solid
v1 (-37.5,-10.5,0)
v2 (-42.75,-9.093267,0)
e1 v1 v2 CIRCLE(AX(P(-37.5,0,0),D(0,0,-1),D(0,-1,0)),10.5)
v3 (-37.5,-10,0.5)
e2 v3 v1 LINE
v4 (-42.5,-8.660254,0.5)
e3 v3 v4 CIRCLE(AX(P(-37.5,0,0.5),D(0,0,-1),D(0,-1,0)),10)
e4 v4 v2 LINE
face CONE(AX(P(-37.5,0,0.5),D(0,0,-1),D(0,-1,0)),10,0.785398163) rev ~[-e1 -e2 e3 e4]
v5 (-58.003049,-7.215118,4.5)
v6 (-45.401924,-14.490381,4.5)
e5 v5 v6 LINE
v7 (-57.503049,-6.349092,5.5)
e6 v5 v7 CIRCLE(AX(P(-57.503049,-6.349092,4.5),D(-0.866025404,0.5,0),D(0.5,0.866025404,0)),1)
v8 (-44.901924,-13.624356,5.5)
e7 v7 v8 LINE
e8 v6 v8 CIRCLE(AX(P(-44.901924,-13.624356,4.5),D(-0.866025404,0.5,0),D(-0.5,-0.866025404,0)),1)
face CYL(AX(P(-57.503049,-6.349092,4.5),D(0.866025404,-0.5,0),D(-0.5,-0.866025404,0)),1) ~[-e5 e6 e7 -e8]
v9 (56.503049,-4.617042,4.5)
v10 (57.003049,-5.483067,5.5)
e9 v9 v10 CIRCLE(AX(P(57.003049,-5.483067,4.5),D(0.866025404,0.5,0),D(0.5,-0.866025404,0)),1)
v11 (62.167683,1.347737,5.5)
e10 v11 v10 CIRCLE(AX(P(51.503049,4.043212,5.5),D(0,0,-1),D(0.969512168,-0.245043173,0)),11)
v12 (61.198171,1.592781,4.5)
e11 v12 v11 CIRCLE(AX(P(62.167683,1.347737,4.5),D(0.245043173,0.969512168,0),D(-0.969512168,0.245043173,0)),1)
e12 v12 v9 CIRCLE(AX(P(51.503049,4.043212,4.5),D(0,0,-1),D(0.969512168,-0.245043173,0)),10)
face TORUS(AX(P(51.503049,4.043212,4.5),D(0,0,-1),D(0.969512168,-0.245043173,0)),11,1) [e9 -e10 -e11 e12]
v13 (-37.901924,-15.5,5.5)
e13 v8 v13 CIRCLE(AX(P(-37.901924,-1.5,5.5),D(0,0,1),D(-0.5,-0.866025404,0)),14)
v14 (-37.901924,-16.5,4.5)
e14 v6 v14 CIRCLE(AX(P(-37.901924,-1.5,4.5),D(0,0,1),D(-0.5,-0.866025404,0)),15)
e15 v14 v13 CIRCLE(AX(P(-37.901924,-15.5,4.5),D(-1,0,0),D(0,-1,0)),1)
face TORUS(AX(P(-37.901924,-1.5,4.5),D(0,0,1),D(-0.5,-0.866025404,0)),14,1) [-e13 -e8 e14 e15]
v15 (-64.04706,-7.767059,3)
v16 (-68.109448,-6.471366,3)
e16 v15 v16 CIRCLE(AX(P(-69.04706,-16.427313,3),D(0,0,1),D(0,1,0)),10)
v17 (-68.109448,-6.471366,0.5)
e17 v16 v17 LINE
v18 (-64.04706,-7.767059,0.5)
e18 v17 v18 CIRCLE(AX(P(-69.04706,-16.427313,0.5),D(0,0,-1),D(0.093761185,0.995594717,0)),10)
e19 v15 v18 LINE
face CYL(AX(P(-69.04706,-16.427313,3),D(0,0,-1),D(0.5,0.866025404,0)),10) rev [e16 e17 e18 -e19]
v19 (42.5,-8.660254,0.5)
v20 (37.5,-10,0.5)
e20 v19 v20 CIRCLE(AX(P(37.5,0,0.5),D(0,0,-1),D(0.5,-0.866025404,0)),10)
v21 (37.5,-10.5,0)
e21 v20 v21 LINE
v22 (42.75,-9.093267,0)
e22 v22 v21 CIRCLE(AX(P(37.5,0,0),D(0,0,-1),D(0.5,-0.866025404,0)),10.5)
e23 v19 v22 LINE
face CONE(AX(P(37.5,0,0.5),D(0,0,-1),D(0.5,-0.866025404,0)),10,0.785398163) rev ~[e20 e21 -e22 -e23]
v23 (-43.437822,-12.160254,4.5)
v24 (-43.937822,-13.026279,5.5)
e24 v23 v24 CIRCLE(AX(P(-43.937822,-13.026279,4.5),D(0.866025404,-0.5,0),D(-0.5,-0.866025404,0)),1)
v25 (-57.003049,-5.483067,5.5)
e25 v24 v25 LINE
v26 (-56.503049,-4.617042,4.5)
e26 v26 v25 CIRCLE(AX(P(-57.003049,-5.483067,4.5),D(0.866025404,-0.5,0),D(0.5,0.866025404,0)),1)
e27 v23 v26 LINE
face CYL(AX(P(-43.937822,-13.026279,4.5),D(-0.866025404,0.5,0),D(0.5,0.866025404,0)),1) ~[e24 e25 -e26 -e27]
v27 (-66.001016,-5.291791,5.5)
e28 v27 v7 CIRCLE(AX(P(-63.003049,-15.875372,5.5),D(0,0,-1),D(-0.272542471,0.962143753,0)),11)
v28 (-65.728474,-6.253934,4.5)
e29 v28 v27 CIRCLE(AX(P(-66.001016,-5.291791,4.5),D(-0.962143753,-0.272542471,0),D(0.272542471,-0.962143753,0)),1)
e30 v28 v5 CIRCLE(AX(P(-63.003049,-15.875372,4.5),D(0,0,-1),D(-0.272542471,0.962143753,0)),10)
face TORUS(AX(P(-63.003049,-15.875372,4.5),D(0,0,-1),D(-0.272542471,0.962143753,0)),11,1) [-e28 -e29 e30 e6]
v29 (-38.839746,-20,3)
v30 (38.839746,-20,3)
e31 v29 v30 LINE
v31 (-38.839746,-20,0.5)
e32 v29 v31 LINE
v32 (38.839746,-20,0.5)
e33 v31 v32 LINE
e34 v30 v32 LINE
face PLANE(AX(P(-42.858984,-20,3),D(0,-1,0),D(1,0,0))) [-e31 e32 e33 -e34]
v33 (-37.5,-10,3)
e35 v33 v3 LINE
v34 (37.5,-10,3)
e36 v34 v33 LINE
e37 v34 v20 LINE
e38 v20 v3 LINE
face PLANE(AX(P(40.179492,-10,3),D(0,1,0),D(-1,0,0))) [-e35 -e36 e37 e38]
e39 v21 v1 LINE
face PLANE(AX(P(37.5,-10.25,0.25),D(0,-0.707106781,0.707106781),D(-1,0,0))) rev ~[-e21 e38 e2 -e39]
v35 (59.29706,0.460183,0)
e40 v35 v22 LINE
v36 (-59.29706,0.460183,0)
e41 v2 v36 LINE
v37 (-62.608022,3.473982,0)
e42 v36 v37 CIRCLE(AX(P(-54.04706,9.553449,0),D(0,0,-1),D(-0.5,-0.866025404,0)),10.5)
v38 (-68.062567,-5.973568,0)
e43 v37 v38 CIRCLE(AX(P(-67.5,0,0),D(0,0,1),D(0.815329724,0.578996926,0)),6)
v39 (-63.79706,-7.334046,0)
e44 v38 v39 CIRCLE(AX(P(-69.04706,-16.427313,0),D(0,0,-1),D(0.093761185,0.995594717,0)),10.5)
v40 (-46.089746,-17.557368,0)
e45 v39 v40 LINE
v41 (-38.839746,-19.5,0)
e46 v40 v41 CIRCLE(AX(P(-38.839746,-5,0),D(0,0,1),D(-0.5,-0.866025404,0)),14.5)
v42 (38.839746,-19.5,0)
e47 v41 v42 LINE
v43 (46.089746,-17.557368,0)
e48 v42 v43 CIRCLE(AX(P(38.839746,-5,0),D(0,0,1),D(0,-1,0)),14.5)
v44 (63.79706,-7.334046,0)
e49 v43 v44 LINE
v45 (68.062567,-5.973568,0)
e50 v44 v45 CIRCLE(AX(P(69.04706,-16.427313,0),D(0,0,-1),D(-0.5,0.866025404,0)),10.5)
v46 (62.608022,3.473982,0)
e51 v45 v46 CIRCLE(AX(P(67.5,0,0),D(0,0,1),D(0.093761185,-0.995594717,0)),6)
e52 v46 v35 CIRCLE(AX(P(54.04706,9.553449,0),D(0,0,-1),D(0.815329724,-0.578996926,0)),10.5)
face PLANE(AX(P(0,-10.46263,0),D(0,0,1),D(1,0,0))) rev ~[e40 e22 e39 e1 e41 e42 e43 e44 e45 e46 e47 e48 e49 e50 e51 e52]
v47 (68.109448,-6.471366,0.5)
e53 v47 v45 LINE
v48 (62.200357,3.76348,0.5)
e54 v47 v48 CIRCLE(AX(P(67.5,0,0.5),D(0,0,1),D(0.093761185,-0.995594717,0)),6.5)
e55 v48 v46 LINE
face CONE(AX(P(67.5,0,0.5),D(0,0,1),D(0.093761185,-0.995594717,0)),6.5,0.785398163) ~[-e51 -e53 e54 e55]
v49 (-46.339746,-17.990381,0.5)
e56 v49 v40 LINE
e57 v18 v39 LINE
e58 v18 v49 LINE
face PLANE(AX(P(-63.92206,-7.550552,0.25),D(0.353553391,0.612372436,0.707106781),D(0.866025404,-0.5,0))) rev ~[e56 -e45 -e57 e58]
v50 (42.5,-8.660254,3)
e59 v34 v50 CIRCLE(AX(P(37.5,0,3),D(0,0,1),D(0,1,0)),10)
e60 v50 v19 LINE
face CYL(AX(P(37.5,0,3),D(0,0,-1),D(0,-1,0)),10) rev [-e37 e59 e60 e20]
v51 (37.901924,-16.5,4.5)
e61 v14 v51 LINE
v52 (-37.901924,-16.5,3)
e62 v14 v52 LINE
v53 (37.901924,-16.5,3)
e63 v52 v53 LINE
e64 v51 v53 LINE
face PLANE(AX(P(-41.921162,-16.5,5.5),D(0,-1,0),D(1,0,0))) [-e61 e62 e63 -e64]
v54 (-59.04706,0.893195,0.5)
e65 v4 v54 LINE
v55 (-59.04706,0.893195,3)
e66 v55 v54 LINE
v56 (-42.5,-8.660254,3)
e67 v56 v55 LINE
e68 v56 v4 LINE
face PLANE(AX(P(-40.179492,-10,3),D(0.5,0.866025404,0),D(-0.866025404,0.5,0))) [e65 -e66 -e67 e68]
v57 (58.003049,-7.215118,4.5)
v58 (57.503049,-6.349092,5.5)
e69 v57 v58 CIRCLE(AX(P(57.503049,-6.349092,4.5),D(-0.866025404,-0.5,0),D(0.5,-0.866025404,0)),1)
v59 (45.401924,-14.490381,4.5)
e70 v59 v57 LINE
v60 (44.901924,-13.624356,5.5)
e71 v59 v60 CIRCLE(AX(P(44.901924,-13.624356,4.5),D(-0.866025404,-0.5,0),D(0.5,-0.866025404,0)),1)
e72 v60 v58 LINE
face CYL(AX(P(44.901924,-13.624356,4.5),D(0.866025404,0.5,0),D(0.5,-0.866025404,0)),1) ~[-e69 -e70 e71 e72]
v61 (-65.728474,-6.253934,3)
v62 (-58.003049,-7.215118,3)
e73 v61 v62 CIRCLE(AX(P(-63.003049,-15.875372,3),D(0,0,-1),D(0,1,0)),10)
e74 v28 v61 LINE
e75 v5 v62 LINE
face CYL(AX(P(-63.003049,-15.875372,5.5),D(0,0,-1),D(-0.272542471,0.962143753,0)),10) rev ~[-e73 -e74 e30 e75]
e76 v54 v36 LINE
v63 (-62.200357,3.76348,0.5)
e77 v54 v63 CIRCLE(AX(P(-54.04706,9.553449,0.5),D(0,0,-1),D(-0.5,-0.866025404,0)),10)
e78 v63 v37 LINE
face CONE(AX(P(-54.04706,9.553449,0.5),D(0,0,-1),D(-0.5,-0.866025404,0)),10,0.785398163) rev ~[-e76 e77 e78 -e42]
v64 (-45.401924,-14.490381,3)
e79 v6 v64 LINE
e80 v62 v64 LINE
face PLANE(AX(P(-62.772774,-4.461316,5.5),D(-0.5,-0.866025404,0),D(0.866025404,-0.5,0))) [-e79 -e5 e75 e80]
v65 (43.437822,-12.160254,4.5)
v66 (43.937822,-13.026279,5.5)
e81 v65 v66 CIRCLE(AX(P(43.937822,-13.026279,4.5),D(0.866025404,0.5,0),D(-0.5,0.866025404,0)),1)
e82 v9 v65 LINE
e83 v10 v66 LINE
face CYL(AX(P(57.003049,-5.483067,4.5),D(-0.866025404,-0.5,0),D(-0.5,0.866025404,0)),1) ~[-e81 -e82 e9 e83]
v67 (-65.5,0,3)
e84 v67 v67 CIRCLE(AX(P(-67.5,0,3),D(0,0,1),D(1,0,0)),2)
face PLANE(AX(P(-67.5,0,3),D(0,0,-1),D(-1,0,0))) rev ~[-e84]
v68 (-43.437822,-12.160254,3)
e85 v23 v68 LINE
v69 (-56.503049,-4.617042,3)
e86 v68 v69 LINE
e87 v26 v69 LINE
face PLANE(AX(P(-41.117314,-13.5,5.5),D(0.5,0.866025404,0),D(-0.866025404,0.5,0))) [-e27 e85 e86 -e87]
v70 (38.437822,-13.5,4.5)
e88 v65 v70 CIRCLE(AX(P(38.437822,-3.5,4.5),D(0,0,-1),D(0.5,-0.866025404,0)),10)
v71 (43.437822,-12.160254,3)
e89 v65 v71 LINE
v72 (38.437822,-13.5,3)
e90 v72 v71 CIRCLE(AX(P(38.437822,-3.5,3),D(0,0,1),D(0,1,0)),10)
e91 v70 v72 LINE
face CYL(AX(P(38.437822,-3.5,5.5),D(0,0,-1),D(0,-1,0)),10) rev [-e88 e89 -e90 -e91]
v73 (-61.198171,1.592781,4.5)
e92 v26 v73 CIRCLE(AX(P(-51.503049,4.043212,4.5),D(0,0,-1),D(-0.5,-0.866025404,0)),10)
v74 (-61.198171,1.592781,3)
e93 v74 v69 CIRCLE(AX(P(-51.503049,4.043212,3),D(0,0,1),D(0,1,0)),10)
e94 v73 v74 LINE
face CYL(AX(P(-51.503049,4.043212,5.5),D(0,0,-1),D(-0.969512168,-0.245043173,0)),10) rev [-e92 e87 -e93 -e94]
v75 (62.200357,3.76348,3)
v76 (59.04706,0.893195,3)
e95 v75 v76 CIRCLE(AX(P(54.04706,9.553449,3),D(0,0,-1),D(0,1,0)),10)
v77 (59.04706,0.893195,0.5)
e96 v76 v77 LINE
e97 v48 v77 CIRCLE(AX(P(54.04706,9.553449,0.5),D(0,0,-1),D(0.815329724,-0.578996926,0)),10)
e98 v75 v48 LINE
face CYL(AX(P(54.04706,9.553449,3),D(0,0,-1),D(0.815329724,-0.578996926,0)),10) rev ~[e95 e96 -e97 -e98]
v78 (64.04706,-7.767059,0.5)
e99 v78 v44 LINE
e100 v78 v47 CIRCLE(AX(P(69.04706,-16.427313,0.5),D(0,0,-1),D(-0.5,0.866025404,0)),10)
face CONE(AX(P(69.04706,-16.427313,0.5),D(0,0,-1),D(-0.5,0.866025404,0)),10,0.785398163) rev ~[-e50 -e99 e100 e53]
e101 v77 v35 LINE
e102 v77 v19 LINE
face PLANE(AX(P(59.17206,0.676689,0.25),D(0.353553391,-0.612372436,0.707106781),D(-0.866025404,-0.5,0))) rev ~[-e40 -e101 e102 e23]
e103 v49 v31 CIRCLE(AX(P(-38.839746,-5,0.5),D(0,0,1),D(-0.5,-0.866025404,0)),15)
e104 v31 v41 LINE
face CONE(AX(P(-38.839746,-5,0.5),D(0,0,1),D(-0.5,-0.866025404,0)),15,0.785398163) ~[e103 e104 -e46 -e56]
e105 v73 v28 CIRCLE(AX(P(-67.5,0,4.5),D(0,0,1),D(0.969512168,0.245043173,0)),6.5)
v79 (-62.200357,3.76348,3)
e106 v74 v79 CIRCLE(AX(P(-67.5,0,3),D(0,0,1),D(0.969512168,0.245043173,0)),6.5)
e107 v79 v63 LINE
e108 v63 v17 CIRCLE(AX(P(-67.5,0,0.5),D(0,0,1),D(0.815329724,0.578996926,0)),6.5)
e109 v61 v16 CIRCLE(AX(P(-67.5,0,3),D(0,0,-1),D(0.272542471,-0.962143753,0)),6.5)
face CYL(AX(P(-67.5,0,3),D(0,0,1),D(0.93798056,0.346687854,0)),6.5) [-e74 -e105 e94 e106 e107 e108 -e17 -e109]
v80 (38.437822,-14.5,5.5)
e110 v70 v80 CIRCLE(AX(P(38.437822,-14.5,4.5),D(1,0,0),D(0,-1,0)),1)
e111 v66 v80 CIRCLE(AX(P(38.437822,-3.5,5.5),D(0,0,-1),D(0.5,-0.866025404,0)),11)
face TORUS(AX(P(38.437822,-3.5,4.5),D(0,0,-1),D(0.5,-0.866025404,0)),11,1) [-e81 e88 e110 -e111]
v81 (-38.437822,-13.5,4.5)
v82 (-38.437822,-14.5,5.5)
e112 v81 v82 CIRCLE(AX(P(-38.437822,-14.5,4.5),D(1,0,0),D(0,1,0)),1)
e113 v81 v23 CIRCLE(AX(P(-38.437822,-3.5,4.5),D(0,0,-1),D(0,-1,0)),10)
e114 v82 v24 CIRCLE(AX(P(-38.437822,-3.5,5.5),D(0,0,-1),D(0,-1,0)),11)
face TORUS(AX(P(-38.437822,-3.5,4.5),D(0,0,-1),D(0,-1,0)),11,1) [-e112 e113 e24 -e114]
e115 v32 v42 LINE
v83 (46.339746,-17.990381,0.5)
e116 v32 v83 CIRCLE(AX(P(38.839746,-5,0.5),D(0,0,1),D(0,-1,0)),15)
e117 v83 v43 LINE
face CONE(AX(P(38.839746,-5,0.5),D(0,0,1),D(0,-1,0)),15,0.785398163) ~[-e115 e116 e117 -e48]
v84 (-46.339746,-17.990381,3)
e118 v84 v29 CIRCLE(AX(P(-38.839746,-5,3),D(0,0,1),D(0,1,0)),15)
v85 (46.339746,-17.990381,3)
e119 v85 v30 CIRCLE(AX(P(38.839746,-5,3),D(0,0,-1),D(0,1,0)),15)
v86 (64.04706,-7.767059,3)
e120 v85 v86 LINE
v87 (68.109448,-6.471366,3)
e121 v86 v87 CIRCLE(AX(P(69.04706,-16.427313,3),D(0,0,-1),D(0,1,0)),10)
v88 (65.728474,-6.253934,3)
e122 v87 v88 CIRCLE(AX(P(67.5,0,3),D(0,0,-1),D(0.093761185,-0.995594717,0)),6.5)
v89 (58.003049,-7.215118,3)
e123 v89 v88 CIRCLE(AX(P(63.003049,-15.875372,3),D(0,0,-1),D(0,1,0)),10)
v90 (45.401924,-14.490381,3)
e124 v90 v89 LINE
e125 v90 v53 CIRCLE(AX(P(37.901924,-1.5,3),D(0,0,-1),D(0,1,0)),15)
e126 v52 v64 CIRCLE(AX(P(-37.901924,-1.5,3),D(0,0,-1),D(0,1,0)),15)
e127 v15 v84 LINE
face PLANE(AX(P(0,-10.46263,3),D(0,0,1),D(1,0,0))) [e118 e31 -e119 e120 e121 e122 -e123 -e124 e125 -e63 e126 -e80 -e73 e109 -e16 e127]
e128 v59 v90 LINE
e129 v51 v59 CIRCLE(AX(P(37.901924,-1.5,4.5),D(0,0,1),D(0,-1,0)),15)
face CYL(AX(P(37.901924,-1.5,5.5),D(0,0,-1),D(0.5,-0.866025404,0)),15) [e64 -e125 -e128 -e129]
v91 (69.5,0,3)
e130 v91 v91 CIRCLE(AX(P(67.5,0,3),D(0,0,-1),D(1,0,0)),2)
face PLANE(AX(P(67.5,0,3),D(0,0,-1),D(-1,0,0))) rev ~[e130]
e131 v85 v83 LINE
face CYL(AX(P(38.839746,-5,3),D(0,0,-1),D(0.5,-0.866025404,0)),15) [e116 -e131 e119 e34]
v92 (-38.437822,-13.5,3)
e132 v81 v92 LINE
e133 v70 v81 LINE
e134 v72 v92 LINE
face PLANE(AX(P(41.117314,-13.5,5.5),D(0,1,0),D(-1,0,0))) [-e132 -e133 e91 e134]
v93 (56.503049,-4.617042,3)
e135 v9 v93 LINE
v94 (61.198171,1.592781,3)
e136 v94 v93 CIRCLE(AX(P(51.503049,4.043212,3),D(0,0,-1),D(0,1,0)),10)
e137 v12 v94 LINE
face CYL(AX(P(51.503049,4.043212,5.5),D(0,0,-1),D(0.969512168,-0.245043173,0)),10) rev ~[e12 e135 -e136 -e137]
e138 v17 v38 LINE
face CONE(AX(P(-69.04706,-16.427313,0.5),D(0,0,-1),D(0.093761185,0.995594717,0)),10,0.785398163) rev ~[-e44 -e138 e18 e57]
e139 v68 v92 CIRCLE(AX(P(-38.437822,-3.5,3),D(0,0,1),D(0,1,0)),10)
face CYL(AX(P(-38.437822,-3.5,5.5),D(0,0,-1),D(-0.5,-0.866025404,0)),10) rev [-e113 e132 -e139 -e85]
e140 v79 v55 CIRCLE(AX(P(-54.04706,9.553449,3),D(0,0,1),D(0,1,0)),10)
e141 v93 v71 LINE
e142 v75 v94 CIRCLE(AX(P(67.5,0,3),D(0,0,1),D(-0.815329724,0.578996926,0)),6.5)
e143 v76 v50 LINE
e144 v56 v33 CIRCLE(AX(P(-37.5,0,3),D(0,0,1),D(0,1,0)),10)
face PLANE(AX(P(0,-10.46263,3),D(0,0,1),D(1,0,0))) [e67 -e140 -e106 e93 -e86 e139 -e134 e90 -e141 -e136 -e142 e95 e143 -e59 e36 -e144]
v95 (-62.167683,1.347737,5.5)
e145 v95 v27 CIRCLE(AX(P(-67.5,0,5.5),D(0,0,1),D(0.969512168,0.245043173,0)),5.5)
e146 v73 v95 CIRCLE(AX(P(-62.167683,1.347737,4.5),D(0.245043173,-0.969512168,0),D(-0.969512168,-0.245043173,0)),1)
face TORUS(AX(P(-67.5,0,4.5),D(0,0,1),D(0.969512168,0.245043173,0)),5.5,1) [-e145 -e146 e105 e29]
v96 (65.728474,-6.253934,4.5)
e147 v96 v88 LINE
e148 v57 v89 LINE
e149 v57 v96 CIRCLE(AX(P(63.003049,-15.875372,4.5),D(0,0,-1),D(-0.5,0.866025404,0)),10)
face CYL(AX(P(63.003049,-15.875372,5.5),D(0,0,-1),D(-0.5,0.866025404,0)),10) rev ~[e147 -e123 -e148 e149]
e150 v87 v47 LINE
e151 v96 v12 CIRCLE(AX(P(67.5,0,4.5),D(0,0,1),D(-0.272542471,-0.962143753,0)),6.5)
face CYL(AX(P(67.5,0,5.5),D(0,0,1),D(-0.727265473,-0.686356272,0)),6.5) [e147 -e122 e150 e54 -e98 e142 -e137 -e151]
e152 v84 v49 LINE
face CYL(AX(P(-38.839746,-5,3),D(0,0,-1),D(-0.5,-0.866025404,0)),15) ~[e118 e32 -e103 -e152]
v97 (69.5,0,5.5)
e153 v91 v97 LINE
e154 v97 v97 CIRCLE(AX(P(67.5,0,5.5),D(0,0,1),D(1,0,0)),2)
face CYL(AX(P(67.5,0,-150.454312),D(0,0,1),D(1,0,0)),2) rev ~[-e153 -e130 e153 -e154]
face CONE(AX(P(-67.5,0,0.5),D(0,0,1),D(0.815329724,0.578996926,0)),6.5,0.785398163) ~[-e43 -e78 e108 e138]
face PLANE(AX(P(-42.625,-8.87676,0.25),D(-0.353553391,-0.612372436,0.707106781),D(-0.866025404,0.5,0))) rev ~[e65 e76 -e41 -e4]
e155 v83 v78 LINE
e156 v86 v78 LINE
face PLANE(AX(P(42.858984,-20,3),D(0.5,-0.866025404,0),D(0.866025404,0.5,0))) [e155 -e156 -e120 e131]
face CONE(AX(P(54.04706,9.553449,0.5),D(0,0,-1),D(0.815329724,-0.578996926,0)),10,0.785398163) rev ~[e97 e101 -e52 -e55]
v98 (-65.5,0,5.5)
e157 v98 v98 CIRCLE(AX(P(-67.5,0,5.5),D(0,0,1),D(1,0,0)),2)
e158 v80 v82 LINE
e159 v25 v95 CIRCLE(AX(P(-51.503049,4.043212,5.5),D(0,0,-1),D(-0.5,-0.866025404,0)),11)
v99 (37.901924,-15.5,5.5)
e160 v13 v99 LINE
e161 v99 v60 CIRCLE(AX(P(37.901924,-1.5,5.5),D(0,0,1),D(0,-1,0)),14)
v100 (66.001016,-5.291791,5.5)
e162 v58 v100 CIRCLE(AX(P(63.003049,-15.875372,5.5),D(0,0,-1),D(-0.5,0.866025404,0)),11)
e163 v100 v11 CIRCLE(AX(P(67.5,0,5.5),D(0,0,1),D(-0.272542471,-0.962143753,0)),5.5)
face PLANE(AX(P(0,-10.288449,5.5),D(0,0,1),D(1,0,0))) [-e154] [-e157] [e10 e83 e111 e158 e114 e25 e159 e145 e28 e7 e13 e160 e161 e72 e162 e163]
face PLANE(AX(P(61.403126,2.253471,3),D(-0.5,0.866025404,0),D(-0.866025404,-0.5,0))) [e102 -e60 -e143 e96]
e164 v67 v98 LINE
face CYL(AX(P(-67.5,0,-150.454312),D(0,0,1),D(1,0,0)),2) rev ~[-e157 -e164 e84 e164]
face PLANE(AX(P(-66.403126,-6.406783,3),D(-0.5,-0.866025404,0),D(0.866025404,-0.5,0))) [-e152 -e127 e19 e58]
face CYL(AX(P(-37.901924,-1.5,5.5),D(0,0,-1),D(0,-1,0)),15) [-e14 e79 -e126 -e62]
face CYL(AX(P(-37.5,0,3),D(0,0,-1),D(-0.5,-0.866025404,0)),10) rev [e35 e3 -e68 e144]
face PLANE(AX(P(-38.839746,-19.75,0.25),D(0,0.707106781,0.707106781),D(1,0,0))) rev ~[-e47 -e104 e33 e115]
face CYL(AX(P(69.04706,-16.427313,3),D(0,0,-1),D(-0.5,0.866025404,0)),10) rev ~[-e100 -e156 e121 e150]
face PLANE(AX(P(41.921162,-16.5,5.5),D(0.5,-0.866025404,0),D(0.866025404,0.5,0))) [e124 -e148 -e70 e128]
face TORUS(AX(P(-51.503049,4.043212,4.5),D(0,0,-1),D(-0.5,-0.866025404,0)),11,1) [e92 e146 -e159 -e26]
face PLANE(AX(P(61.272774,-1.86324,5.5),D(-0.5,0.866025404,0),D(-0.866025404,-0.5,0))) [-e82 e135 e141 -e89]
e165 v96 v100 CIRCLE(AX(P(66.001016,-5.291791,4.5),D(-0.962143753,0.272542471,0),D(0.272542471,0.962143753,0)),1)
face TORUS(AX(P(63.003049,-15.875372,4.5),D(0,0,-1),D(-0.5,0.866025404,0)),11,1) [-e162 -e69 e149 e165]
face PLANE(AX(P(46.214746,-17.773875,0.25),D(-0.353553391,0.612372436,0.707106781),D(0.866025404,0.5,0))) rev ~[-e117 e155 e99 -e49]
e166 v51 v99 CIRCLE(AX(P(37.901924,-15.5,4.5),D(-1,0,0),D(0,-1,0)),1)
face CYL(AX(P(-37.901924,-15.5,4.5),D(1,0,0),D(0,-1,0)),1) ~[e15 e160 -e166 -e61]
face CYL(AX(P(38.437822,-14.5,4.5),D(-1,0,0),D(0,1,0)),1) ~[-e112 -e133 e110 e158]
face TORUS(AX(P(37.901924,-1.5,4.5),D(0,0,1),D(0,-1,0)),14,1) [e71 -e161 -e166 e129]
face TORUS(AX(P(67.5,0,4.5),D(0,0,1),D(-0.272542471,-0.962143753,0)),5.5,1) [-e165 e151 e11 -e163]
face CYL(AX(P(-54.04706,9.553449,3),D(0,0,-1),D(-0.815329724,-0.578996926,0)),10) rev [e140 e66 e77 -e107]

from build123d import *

# Parameters (mm, degrees)
EXTRUDE_1_DEPTH       = 2.500000000014097
EXTRUDE_2_DEPTH       = 2.9999999999999996
HOLE_WIZARD_4_0_4_1_D = 4
FILLET_1_R            = 10
FILLET_2_R            = 15.000000000000004
CHAMFER_1_SIZE        = 0.4999999999999998
FILLET_4_R            = 1
EXTRUDE_START         = -3
SKETCH_5_R            = 1.999999999999988
EXTRUDE_3_DEPTH       = 3


with BuildPart() as part:
    # 草图1 → 凸台-拉伸1 (new body)
    with BuildSketch(Plane.XY.offset(5.5)):
        with BuildLine():
            Line((-62.772774424948345, -4.461315765845048), (-41.9211616751135, -16.50000000000001))
            Line((-41.9211616751135, -16.50000000000001), (41.92116167511347, -16.5))
            Line((41.92116167511347, -16.5), (62.77277442494833, -4.461315765845017))
            ThreePointArc((62.77277442494833, -4.461315765845017), (73.12916512459886, 3.249999999999975), (61.27277442494834, -1.863239554491695))
            Line((61.27277442494834, -1.863239554491695), (41.117314097820056, -13.50000000000001))
            Line((41.117314097820056, -13.50000000000001), (-41.117314097820156, -13.500000000000009))
            Line((-41.117314097820156, -13.500000000000009), (-61.272774424948345, -1.863239554491729))
            ThreePointArc((-61.272774424948345, -1.863239554491729), (-73.12916512459884, 3.2500000000000075), (-62.772774424948345, -4.461315765845048))
        make_face()
    extrude(amount=-EXTRUDE_1_DEPTH)

    # 草图2 → 凸台-拉伸2 (add)
    with BuildSketch(Plane(origin=(0, 0, 2.9999999999859024), x_dir=(-1, 0, 0), z_dir=(0, 0, -1))):
        with BuildLine():
            Line((66.40312635751548, -6.406782984651714), (42.858983848622465, -20))
            Line((42.858983848622465, -20), (-42.85898384862241, -19.999999999999996))
            Line((-42.85898384862241, -19.999999999999996), (-66.40312635751543, -6.406782984651706))
            ThreePointArc((-66.40312635751543, -6.406782984651706), (-73.12916512459887, 3.24999999999996), (-61.40312635751548, 2.253471053192728))
            Line((-61.40312635751548, 2.253471053192728), (-40.17949192431118, -9.999999999999998))
            Line((-40.17949192431118, -9.999999999999998), (40.17949192431122, -10.000000000000009))
            Line((40.17949192431122, -10.000000000000009), (61.40312635751546, 2.2534710531926625))
            ThreePointArc((61.40312635751546, 2.2534710531926625), (73.12916512459884, 3.250000000000009), (66.40312635751548, -6.406782984651714))
        make_face()
    extrude(amount=EXTRUDE_2_DEPTH)

    # Ø4.0 (4) 直径孔1 (through all)
    with Locations(Plane(origin=(0, 0, 0), x_dir=(-1, 0, 0), z_dir=(0, 0, -1))):
        with Locations((67.5, 0), (-67.5, 0)):
            Hole(HOLE_WIZARD_4_0_4_1_D / 2)

    # 圆角1
    fillet_1_edges = [part.edges().sort_by_distance(p)[0] for p in [
        (-61.27277442494835, -1.8632395544917282, 4.249999999992951),
        (-41.117314097820156, -13.500000000000009, 4.249999999992951),
        (41.117314097820056, -13.50000000000001, 4.249999999992951),
        (61.27277442494834, -1.863239554491694, 4.249999999992951),
        (62.77277442494834, -4.461315765845014, 4.249999999992951),
        (-62.772774424948345, -4.461315765845047, 4.249999999992951),
        (-66.40312635751548, -6.406782984651716, 1.4999999999859026),
        (-61.40312635751547, 2.2534710531926603, 1.4999999999859026),
        (-40.17949192431122, -10.000000000000009, 1.4999999999859026),
        (40.17949192431118, -9.999999999999998, 1.4999999999859026),
        (61.403126357515475, 2.2534710531927282, 1.4999999999859026),
        (66.40312635751543, -6.406782984651702, 1.4999999999859026),
    ]]
    fillet(fillet_1_edges, radius=FILLET_1_R)

    # 圆角2
    fillet_2_edges = [part.edges().sort_by_distance(p)[0] for p in [
        (41.92116167511347, -16.5, 4.249999999992951),
        (-41.9211616751135, -16.50000000000001, 4.249999999992951),
        (42.85898384862241, -19.999999999999996, 1.4999999999859026),
        (-42.858983848622465, -20, 1.4999999999859026),
    ]]
    fillet(fillet_2_edges, radius=FILLET_2_R)

    # 倒角1
    chamfer_1_edges = [part.edges().sort_by_distance(p)[0] for p in [
        (-55.193402756130126, -12.878719923452845, -1.409717e-11),
        (-1.421e-14, -19.999999999999996, -1.409717e-11),
        (42.722031638693394, -19.488887394336025, -1.409717e-11),
        (-42.72203163869342, -19.48888739433603, -1.409717e-11),
        (50.77352977505234, -3.883529395069502, -1.409717e-11),
        (-2.132e-14, -10.000000000000004, -1.409717e-11),
        (-50.77352977505235, -3.8835293950695364, -1.409717e-11),
        (-73.12916512459887, 3.2499999999999756, -1.409717e-11),
        (55.193402756130126, -12.878719923452813, -1.409717e-11),
        (73.12916512459886, 3.2499999999999876, -1.409717e-11),
        (40.088190451025156, -9.659258262890683, -1.409717e-11),
        (-60.778474019386664, 2.158311745061262, -1.409717e-11),
        (66.00838981020269, -6.900168123938897, -1.409717e-11),
        (-40.08819045102521, -9.65925826289069, -1.409717e-11),
        (60.778474019386664, 2.1583117450613107, -1.409717e-11),
        (-66.00838981020267, -6.900168123938933, -1.409717e-11),
    ]]
    chamfer(chamfer_1_edges, length=CHAMFER_1_SIZE)

    # 圆角4
    fillet_4_edges = [part.edges().sort_by_distance(p)[0] for p in [
        (-1.421e-14, -16.500000000000004, 5.5),
        (51.70248651134352, -10.85274947277141, 5.5),
        (-41.784209465184475, -15.988887394336034, 5.5),
        (41.78420946518445, -15.988887394336027, 5.5),
        (-73.12916512459887, 3.2499999999999796, 5.5),
        (73.12916512459886, 3.250000000000003, 5.5),
        (49.970435703774626, -8.388647857633657, 5.5),
        (-4.974e-14, -13.50000000000001, 5.5),
        (-49.970435703774676, -8.388647857633675, 5.5),
        (-51.70248651134354, -10.852749472771439, 5.5),
        (59.47971041107501, -1.9877806313493807, 5.5),
        (-41.02601262453415, -13.159258262890692, 5.5),
        (-59.479710411075004, -1.9877806313494268, 5.5),
        (-61.76838668163823, -5.951884214042208, 5.5),
        (61.76838668163825, -5.951884214042176, 5.5),
        (41.02601262453404, -13.159258262890695, 5.5),
    ]]
    fillet(fillet_4_edges, radius=FILLET_4_R)

    # 草图5 → 凸台-拉伸3 (add)
    with BuildSketch(Plane(origin=(0, 0, 0), x_dir=(-1, 0, 0), z_dir=(0, 0, -1)).offset(EXTRUDE_START)):
        with Locations((67.5, 0)):
            Circle(SKETCH_5_R)
        with Locations((-67.5, 0)):
            Circle(SKETCH_5_R)
    extrude(amount=EXTRUDE_3_DEPTH)


solid = part.part
